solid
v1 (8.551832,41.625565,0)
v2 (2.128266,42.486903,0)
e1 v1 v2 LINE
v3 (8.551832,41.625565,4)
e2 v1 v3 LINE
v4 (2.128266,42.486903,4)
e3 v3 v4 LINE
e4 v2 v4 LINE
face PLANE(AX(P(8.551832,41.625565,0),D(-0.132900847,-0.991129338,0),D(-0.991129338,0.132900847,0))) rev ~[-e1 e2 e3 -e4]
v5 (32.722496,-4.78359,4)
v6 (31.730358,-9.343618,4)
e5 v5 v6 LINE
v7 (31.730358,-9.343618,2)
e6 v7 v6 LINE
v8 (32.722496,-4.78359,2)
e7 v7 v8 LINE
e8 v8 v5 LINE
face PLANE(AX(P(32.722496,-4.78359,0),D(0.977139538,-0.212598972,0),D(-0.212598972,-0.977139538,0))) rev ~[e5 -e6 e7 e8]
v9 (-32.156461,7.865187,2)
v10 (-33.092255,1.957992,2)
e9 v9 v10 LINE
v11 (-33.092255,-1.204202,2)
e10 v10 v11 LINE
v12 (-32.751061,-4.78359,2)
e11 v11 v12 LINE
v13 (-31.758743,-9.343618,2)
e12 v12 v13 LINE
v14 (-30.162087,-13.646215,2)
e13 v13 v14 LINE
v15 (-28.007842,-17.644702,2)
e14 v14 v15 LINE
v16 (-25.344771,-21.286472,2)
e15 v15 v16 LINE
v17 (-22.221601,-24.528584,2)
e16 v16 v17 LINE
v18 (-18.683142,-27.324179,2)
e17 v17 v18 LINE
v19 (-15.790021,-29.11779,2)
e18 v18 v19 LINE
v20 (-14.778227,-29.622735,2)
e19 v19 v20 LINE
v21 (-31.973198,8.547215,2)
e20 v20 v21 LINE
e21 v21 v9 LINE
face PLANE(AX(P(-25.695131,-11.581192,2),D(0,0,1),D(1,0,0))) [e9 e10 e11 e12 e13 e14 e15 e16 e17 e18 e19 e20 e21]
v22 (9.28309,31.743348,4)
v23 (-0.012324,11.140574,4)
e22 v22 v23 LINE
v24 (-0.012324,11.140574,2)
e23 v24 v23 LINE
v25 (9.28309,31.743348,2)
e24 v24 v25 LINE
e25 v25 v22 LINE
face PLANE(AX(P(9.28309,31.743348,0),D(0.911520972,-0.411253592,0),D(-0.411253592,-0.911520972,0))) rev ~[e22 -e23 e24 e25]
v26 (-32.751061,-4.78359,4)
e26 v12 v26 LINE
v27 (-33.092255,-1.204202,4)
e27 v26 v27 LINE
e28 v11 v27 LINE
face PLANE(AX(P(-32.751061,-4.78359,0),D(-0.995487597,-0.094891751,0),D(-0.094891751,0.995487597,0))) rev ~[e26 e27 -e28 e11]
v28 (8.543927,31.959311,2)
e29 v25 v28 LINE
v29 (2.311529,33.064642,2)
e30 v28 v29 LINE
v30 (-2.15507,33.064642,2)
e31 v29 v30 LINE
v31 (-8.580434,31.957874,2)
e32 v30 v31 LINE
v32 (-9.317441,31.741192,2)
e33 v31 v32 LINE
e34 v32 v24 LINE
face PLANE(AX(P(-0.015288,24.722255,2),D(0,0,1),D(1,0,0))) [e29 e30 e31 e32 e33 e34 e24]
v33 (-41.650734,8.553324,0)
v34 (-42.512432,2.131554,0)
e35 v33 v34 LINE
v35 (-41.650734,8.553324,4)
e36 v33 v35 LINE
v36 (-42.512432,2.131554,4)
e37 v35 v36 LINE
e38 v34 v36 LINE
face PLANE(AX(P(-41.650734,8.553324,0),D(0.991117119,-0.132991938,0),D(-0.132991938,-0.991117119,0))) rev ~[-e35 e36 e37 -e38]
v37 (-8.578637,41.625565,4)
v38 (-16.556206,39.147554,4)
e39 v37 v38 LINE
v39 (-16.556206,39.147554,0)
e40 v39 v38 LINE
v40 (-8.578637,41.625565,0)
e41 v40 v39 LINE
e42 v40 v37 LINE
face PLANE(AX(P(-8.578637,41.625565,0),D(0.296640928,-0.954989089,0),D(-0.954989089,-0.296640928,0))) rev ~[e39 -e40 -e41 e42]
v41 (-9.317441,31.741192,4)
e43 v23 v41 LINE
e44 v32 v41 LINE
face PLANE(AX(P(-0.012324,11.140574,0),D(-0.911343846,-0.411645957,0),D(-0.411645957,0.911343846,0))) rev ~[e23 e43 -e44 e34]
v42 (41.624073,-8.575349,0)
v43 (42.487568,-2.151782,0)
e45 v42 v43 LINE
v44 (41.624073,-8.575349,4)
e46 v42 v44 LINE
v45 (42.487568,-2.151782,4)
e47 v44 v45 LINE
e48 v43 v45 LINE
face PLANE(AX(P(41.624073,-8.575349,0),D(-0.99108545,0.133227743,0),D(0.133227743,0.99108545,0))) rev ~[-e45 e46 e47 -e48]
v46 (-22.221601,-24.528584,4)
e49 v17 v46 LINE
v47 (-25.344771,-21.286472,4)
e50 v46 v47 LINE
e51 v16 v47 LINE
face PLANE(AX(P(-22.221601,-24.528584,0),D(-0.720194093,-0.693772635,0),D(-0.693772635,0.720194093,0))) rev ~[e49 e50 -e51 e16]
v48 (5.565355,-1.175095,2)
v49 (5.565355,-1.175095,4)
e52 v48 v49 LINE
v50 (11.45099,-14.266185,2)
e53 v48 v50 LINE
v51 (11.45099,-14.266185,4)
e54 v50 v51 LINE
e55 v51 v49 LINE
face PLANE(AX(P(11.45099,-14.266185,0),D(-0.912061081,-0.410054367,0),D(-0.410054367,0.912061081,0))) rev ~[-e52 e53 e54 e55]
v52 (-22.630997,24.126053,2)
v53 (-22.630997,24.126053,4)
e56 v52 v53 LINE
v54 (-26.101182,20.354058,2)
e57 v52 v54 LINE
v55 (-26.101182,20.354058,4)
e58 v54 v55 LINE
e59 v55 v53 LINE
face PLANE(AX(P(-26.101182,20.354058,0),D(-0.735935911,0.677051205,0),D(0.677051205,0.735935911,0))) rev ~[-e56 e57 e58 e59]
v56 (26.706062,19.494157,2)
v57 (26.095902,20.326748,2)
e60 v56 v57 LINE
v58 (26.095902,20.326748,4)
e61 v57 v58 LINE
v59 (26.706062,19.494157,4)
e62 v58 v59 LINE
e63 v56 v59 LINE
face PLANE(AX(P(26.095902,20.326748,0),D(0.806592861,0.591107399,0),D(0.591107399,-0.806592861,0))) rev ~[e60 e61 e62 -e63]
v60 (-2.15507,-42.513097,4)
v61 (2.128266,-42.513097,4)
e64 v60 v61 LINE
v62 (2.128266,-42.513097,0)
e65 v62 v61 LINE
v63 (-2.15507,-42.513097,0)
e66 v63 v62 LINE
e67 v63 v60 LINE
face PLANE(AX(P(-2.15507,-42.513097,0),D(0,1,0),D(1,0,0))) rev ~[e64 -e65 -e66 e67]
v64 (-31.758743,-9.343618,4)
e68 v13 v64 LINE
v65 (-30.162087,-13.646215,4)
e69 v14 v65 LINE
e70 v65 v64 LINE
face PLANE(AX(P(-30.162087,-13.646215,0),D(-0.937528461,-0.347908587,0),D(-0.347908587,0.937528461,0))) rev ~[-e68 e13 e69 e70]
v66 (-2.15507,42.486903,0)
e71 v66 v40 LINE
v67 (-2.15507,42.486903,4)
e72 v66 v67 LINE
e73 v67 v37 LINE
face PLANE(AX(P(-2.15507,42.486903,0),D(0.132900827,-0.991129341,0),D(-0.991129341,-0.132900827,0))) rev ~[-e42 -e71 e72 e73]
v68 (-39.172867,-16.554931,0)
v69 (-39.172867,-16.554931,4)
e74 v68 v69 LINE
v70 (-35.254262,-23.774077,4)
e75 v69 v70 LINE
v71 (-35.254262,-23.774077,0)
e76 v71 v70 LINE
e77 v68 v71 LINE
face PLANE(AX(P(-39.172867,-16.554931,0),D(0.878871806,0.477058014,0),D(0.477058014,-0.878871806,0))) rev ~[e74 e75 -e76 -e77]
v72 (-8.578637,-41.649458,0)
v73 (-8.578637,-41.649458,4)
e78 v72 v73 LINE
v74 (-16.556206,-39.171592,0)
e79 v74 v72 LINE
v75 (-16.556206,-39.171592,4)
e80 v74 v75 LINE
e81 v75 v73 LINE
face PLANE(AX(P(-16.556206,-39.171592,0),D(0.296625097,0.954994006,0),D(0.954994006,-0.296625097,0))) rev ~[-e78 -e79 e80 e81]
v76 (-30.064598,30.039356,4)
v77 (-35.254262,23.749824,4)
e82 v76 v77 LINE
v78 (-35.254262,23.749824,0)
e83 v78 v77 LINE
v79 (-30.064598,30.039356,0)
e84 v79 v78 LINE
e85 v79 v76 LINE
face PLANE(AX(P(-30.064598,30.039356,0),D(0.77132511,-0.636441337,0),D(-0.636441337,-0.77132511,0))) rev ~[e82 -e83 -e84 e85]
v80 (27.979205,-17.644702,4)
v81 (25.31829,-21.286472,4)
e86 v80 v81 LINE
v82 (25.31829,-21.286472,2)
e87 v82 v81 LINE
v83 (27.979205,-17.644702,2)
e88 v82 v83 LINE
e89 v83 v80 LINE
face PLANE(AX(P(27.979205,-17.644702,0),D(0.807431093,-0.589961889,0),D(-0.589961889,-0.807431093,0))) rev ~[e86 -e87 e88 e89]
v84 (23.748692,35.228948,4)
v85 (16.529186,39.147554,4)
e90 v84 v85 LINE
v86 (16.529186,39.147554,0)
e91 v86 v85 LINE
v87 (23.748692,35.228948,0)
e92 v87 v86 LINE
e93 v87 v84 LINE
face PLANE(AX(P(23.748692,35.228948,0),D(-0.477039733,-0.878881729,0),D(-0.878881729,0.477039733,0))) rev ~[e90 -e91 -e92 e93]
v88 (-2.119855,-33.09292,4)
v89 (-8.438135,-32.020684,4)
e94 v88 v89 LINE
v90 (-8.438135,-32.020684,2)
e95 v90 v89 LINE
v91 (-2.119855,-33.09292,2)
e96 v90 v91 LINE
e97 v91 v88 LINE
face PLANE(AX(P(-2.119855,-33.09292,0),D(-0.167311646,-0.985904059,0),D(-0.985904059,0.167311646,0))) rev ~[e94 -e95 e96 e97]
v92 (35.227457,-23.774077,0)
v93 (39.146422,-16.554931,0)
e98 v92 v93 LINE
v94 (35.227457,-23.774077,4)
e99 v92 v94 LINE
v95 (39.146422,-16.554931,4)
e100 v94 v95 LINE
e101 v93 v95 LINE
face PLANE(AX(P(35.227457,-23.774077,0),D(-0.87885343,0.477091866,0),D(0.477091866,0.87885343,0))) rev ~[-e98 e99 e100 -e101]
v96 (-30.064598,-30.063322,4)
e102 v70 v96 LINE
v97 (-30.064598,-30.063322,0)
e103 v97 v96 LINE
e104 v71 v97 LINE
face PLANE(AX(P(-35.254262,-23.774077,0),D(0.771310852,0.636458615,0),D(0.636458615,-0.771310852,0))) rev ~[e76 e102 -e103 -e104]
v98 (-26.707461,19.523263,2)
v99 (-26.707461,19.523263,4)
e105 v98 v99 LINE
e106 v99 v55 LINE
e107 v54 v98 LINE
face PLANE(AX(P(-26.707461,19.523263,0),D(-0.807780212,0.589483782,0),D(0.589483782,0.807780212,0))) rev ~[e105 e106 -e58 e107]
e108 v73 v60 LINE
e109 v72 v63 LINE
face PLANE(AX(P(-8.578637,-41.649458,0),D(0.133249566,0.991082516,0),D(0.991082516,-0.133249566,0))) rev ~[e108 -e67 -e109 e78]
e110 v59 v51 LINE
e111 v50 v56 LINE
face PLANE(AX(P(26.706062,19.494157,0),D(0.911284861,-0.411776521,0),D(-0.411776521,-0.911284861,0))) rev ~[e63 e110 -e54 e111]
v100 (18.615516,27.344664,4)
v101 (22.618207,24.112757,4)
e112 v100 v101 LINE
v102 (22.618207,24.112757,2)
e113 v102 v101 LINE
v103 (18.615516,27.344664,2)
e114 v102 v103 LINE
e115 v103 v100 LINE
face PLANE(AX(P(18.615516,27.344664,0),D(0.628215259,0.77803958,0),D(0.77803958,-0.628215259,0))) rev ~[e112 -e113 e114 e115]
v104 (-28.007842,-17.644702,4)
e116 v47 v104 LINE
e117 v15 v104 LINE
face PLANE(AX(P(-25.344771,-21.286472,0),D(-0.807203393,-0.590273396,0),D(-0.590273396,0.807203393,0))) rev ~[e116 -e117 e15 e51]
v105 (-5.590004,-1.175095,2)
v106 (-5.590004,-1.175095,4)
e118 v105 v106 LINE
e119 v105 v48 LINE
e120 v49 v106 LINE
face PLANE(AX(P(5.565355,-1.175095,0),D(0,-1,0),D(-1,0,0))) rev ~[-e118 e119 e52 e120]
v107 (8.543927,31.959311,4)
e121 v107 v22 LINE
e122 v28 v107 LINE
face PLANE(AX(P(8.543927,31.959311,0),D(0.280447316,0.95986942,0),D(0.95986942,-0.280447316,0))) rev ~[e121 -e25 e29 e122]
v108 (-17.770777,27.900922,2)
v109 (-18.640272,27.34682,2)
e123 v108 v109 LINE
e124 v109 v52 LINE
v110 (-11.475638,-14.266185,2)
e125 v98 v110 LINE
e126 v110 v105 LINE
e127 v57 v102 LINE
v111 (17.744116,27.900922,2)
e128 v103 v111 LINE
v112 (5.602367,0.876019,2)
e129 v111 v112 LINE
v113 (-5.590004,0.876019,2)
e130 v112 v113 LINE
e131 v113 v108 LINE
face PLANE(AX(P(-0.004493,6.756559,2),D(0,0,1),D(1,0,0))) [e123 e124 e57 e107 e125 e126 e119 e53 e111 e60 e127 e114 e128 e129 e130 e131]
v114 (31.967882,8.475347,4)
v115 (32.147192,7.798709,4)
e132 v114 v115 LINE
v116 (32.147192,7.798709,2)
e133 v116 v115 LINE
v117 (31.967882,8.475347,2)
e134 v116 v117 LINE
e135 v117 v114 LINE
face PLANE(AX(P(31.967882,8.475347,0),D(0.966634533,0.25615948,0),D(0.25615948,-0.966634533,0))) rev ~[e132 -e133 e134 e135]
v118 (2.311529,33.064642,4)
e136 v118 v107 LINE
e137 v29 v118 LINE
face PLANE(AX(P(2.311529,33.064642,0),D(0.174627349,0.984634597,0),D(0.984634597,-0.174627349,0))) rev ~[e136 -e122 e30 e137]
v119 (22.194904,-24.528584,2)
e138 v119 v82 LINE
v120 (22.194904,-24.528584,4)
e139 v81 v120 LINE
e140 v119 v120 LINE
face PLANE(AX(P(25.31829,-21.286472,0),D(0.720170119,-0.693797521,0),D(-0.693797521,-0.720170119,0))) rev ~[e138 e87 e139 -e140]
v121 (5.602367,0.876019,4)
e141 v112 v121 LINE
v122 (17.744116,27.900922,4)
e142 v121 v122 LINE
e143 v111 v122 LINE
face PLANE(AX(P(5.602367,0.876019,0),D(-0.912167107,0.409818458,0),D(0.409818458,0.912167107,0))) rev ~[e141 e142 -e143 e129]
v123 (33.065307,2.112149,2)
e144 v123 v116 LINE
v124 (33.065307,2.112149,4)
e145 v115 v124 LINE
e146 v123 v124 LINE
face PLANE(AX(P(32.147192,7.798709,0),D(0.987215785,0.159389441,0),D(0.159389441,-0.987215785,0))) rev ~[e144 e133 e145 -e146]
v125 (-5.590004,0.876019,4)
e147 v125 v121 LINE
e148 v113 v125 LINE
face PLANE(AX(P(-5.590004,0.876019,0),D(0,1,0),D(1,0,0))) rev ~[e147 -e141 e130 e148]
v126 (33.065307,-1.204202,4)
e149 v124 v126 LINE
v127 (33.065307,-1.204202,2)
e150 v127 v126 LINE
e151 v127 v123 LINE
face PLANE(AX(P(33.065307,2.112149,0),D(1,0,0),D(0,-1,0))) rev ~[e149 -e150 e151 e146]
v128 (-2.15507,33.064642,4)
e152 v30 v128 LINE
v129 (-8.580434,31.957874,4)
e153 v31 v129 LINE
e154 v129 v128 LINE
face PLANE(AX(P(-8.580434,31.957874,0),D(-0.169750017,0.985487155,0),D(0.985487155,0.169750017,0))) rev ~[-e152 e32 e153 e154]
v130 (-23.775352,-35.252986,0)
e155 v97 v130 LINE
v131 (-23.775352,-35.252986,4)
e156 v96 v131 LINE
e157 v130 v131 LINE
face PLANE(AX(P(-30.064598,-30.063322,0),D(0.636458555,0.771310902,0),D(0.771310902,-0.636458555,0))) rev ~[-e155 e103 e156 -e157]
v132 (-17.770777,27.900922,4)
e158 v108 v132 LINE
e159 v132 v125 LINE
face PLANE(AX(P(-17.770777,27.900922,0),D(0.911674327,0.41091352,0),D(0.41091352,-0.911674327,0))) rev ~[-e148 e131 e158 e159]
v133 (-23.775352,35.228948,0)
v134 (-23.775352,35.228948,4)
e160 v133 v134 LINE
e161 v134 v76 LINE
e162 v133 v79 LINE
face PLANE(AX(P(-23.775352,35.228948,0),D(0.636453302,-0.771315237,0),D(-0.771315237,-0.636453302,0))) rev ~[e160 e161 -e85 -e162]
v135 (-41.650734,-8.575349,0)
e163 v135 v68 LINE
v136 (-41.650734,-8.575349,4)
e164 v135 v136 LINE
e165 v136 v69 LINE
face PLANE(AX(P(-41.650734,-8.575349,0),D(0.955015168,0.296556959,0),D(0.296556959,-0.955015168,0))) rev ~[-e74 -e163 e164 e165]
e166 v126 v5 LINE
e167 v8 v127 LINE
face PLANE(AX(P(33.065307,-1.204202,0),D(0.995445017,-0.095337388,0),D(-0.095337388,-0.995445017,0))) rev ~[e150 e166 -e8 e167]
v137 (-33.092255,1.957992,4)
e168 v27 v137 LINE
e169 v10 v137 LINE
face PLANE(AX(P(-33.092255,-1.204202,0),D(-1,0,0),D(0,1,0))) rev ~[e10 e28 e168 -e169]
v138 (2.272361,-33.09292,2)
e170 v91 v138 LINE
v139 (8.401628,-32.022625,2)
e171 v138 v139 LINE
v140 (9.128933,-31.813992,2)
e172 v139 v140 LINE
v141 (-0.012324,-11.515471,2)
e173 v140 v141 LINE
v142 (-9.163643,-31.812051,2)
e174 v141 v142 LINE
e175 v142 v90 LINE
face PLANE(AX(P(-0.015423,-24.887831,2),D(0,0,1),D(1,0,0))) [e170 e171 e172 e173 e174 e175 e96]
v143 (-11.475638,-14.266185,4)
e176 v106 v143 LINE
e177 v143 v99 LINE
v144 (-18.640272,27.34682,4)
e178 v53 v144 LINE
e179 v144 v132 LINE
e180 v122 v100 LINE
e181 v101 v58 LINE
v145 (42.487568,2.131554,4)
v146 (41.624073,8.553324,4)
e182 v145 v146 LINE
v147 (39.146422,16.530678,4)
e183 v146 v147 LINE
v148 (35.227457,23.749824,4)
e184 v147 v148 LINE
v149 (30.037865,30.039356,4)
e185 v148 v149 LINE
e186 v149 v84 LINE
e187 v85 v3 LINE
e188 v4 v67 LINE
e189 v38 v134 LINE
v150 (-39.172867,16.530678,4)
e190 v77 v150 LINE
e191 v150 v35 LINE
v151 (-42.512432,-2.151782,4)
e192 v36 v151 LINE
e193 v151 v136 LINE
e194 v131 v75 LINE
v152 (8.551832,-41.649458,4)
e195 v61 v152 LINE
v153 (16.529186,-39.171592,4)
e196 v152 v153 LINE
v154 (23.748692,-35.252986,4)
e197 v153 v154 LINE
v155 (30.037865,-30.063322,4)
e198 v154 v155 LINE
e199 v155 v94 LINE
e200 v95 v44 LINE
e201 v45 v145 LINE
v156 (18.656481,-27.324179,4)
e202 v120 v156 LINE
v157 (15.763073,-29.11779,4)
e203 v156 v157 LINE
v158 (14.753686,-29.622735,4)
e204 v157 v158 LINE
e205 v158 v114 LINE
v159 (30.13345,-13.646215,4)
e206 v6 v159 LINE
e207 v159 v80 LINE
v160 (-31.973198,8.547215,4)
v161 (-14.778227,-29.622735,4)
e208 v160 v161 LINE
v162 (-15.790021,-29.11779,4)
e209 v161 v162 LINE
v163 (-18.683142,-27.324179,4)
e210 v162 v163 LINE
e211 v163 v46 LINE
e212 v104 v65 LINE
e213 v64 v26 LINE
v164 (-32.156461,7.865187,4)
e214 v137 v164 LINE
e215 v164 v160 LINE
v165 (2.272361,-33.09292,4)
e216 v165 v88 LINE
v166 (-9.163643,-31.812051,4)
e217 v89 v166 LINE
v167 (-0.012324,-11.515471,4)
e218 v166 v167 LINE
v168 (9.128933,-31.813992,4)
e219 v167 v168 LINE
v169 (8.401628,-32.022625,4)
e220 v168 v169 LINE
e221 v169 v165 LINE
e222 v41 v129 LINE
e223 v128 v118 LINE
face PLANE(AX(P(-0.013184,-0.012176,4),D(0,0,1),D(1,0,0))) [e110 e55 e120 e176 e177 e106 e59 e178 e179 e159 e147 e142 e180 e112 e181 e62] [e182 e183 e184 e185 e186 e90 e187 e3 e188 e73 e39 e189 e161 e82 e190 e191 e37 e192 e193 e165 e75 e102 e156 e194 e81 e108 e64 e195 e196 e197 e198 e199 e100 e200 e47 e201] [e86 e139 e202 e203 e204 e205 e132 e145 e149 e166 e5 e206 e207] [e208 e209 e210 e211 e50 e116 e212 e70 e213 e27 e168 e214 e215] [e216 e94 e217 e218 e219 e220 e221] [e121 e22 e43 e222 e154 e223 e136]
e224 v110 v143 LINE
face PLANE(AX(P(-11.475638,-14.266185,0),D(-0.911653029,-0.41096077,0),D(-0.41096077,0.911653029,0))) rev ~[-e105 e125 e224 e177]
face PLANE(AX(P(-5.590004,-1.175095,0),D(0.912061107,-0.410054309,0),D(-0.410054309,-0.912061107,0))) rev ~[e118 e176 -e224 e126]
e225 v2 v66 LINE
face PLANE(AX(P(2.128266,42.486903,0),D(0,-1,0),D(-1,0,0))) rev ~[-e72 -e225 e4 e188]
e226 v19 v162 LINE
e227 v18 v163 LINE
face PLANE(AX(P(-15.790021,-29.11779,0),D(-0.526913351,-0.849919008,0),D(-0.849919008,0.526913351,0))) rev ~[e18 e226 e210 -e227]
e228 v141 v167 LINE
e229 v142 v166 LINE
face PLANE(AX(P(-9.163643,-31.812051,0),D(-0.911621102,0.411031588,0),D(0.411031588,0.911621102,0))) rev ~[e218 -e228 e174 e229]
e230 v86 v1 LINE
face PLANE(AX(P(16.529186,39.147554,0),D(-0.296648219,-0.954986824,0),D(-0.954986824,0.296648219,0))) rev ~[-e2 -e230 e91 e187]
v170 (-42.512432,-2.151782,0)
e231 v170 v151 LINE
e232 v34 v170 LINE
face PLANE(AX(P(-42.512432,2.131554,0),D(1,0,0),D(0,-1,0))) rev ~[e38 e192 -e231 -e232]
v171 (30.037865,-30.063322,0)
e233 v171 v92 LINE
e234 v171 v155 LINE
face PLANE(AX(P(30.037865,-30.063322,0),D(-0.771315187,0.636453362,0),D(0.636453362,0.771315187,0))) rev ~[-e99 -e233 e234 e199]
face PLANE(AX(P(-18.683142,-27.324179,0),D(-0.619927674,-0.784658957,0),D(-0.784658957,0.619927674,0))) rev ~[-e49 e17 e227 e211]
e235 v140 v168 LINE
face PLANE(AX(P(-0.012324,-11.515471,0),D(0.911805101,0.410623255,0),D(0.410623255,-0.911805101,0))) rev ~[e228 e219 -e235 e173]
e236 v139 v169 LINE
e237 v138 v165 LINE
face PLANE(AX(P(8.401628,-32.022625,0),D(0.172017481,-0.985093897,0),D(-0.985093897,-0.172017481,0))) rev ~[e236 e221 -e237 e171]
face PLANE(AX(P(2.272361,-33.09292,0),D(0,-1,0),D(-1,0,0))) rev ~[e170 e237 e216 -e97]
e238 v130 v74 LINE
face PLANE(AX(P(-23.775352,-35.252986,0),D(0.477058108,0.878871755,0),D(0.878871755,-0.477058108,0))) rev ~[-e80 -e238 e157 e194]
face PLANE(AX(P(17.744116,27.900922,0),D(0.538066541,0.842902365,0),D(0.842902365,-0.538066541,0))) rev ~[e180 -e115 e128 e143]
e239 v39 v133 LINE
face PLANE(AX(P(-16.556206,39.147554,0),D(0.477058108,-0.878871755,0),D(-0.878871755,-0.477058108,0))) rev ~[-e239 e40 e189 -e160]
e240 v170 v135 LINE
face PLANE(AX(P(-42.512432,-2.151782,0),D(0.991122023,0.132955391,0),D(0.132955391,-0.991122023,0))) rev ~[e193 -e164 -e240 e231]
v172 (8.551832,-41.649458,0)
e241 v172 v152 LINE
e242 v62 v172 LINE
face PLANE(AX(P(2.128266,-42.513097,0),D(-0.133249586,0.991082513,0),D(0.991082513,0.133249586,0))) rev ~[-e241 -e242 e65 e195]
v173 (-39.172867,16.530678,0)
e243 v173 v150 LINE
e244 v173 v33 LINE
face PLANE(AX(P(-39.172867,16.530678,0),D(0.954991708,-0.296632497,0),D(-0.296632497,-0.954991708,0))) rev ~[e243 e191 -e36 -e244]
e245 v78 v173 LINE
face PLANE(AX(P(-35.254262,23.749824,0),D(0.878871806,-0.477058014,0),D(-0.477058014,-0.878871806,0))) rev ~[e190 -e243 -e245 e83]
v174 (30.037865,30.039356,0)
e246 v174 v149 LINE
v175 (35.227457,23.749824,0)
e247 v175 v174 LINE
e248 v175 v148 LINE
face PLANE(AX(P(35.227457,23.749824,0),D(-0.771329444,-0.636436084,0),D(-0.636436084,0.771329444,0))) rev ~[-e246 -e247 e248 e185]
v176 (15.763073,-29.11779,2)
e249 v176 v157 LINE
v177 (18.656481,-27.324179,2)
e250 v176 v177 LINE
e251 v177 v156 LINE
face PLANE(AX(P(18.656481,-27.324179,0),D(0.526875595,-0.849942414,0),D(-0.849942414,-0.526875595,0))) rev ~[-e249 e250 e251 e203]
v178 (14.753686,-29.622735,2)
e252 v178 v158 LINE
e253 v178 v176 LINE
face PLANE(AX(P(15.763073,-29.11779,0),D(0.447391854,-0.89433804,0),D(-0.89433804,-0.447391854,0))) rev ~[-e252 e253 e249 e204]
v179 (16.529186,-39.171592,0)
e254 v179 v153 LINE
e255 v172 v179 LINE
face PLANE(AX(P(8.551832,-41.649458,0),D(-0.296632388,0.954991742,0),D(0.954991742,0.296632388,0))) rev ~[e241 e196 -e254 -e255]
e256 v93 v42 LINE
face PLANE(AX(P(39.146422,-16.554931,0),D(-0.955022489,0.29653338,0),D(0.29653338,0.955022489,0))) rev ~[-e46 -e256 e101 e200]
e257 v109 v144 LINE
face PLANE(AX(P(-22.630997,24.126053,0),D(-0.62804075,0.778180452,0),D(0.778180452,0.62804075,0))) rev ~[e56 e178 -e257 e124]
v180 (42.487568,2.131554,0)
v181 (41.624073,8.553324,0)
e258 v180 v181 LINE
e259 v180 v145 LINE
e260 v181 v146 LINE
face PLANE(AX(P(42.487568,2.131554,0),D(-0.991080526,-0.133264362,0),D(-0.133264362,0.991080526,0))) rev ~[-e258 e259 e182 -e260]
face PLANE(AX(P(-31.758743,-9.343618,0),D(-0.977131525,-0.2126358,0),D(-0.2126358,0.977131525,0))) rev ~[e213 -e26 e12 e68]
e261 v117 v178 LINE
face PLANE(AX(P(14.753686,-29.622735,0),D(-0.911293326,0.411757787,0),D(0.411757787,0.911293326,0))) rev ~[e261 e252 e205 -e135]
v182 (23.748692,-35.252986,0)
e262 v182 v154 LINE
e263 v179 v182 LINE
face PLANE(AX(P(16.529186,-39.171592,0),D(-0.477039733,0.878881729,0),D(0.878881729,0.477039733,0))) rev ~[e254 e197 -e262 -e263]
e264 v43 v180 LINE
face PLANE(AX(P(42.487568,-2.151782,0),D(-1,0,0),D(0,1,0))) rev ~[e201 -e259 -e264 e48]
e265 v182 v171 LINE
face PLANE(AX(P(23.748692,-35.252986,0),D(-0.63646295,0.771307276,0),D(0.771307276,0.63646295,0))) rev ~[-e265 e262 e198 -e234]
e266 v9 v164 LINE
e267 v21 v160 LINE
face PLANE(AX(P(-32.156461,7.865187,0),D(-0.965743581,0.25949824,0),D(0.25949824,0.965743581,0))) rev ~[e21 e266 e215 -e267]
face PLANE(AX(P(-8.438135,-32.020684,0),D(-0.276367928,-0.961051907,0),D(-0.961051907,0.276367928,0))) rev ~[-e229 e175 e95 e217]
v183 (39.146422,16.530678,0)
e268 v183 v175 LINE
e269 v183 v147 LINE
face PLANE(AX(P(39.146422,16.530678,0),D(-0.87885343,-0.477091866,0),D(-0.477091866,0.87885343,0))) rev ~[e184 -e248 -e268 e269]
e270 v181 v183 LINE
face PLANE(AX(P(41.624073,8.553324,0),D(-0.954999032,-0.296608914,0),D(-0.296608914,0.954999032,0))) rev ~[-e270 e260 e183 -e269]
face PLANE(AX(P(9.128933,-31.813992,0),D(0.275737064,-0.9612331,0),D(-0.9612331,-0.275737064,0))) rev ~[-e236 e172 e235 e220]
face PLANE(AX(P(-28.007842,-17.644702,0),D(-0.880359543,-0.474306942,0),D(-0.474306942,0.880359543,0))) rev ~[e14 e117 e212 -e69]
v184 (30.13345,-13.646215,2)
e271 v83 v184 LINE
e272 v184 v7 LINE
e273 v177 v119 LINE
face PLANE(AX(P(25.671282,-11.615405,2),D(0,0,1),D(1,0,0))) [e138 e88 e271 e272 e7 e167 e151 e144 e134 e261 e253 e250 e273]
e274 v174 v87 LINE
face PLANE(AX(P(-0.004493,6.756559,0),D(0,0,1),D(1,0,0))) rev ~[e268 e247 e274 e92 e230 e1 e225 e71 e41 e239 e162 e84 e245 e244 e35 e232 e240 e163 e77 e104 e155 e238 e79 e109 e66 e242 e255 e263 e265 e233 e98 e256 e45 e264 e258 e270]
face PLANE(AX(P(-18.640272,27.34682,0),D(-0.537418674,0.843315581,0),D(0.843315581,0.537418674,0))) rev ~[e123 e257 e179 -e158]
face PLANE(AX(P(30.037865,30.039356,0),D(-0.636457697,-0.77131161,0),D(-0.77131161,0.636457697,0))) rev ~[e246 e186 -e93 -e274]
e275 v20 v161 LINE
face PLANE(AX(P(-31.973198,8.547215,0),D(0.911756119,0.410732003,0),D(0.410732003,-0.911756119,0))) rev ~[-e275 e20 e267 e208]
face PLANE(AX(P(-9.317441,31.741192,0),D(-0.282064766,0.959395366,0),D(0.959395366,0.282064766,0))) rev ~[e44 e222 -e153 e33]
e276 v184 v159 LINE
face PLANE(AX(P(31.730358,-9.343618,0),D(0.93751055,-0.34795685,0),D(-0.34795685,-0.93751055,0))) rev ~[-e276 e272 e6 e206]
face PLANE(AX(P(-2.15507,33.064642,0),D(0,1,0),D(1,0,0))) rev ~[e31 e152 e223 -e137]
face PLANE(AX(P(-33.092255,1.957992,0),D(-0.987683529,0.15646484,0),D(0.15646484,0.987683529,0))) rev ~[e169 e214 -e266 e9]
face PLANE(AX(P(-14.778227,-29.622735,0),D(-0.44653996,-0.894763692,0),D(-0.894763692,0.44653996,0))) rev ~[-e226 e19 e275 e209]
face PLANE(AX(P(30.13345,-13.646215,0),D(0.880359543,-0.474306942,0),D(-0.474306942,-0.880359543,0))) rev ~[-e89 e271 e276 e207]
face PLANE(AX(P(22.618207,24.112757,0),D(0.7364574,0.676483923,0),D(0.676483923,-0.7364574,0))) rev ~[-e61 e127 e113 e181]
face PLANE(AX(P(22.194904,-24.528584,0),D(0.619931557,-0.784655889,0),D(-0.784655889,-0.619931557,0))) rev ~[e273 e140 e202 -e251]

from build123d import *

# Parameters (mm, degrees)
F1_DEPTH = 4
F2_DEPTH = 2


with BuildPart() as f1:
    # F0 (on Top) → F1 (new body)
    with BuildSketch(Plane.XY):
        Polygon((-2.15507, -42.513097), (-0.012324, -42.513097), (2.128266, -42.513097), (8.551832, -41.649458), (16.529186, -39.171592), (23.748692, -35.252986), (30.037865, -30.063322), (35.227457, -23.774077), (39.146422, -16.554931), (41.624073, -8.575349), (42.487568, -2.151782), (42.487568, -0.011192), (42.487568, 2.131554), (41.624073, 8.553324), (39.146422, 16.530678), (35.227457, 23.749824), (30.037865, 30.039356), (23.748692, 35.228948), (16.529186, 39.147554), (8.551832, 41.625565), (2.128266, 42.486903), (-0.012324, 42.486903), (-2.15507, 42.486903), (-8.578637, 41.625565), (-16.556206, 39.147554), (-23.775352, 35.228948), (-30.064598, 30.039356), (-35.254262, 23.749824), (-39.172867, 16.530678), (-41.650734, 8.553324), (-42.512432, 2.131554), (-42.512432, -0.011192), (-42.512432, -2.151782), (-41.650734, -8.575349), (-39.172867, -16.554931), (-35.254262, -23.774077), (-30.064598, -30.063322), (-23.775352, -35.252986), (-16.556206, -39.171592), (-8.578637, -41.649458), align=None)
        Polygon((-32.156461, 7.865187), (-31.973198, 8.547215), (-14.778227, -29.622735), (-15.790021, -29.11779), (-18.683142, -27.324179), (-22.221601, -24.528584), (-25.344771, -21.286472), (-28.007842, -17.644702), (-30.162087, -13.646215), (-31.758743, -9.343618), (-32.751061, -4.78359), (-33.092255, -1.204202), (-33.092255, -0.011192), (-33.092255, 1.957992), align=None, mode=Mode.SUBTRACT)
        Polygon((-8.438135, -32.020684), (-9.163643, -31.812051), (-0.012324, -11.515471), (9.128933, -31.813992), (8.401628, -32.022625), (2.272361, -33.09292), (-0.012324, -33.09292), (-2.119855, -33.09292), align=None, mode=Mode.SUBTRACT)
        Polygon((15.763073, -29.11779), (14.753686, -29.622735), (31.967882, 8.475347), (32.147192, 7.798709), (33.065307, 2.112149), (33.065307, -0.011192), (33.065307, -1.204202), (32.722496, -4.78359), (31.730358, -9.343618), (30.13345, -13.646215), (27.979205, -17.644702), (25.31829, -21.286472), (22.194904, -24.528584), (18.656481, -27.324179), align=None, mode=Mode.SUBTRACT)
        Polygon((-0.012324, 11.140574), (-9.317441, 31.741192), (-8.580434, 31.957874), (-2.15507, 33.064642), (-0.012324, 33.064642), (2.311529, 33.064642), (8.543927, 31.959311), (9.28309, 31.743348), align=None, mode=Mode.SUBTRACT)
        Polygon((5.602367, 0.876019), (17.744116, 27.900922), (18.615516, 27.344664), (22.618207, 24.112757), (26.095902, 20.326748), (26.706062, 19.494157), (11.45099, -14.266185), (5.565355, -1.175095), (-5.590004, -1.175095), (-11.475638, -14.266185), (-26.707461, 19.523263), (-26.101182, 20.354058), (-22.630997, 24.126053), (-18.640272, 27.34682), (-17.770777, 27.900922), (-5.590004, 0.876019), align=None, mode=Mode.SUBTRACT)
    extrude(amount=F1_DEPTH)

    # F0 (on Top) → F2 (join)
    with BuildSketch(Plane.XY):
        Polygon((18.615516, 27.344664), (17.744116, 27.900922), (5.602367, 0.876019), (-5.590004, 0.876019), (-17.770777, 27.900922), (-18.640272, 27.34682), (-22.630997, 24.126053), (-26.101182, 20.354058), (-26.707461, 19.523263), (-11.475638, -14.266185), (-5.590004, -1.175095), (5.565355, -1.175095), (11.45099, -14.266185), (26.706062, 19.494157), (26.095902, 20.326748), (22.618207, 24.112757), align=None)
        Polygon((-14.778227, -29.622735), (-31.973198, 8.547215), (-32.156461, 7.865187), (-33.092255, 1.957992), (-33.092255, -0.011192), (-33.092255, -1.204202), (-32.751061, -4.78359), (-31.758743, -9.343618), (-30.162087, -13.646215), (-28.007842, -17.644702), (-25.344771, -21.286472), (-22.221601, -24.528584), (-18.683142, -27.324179), (-15.790021, -29.11779), align=None)
        Polygon((-0.012324, -11.515471), (-9.163643, -31.812051), (-8.438135, -32.020684), (-2.119855, -33.09292), (-0.012324, -33.09292), (2.272361, -33.09292), (8.401628, -32.022625), (9.128933, -31.813992), align=None)
        Polygon((31.967882, 8.475347), (14.753686, -29.622735), (15.763073, -29.11779), (18.656481, -27.324179), (22.194904, -24.528584), (25.31829, -21.286472), (27.979205, -17.644702), (30.13345, -13.646215), (31.730358, -9.343618), (32.722496, -4.78359), (33.065307, -1.204202), (33.065307, -0.011192), (33.065307, 2.112149), (32.147192, 7.798709), align=None)
        Polygon((-8.580434, 31.957874), (-9.317441, 31.741192), (-0.012324, 11.140574), (9.28309, 31.743348), (8.543927, 31.959311), (2.311529, 33.064642), (-0.012324, 33.064642), (-2.15507, 33.064642), align=None)
    extrude(amount=F2_DEPTH)


solid = f1.part
